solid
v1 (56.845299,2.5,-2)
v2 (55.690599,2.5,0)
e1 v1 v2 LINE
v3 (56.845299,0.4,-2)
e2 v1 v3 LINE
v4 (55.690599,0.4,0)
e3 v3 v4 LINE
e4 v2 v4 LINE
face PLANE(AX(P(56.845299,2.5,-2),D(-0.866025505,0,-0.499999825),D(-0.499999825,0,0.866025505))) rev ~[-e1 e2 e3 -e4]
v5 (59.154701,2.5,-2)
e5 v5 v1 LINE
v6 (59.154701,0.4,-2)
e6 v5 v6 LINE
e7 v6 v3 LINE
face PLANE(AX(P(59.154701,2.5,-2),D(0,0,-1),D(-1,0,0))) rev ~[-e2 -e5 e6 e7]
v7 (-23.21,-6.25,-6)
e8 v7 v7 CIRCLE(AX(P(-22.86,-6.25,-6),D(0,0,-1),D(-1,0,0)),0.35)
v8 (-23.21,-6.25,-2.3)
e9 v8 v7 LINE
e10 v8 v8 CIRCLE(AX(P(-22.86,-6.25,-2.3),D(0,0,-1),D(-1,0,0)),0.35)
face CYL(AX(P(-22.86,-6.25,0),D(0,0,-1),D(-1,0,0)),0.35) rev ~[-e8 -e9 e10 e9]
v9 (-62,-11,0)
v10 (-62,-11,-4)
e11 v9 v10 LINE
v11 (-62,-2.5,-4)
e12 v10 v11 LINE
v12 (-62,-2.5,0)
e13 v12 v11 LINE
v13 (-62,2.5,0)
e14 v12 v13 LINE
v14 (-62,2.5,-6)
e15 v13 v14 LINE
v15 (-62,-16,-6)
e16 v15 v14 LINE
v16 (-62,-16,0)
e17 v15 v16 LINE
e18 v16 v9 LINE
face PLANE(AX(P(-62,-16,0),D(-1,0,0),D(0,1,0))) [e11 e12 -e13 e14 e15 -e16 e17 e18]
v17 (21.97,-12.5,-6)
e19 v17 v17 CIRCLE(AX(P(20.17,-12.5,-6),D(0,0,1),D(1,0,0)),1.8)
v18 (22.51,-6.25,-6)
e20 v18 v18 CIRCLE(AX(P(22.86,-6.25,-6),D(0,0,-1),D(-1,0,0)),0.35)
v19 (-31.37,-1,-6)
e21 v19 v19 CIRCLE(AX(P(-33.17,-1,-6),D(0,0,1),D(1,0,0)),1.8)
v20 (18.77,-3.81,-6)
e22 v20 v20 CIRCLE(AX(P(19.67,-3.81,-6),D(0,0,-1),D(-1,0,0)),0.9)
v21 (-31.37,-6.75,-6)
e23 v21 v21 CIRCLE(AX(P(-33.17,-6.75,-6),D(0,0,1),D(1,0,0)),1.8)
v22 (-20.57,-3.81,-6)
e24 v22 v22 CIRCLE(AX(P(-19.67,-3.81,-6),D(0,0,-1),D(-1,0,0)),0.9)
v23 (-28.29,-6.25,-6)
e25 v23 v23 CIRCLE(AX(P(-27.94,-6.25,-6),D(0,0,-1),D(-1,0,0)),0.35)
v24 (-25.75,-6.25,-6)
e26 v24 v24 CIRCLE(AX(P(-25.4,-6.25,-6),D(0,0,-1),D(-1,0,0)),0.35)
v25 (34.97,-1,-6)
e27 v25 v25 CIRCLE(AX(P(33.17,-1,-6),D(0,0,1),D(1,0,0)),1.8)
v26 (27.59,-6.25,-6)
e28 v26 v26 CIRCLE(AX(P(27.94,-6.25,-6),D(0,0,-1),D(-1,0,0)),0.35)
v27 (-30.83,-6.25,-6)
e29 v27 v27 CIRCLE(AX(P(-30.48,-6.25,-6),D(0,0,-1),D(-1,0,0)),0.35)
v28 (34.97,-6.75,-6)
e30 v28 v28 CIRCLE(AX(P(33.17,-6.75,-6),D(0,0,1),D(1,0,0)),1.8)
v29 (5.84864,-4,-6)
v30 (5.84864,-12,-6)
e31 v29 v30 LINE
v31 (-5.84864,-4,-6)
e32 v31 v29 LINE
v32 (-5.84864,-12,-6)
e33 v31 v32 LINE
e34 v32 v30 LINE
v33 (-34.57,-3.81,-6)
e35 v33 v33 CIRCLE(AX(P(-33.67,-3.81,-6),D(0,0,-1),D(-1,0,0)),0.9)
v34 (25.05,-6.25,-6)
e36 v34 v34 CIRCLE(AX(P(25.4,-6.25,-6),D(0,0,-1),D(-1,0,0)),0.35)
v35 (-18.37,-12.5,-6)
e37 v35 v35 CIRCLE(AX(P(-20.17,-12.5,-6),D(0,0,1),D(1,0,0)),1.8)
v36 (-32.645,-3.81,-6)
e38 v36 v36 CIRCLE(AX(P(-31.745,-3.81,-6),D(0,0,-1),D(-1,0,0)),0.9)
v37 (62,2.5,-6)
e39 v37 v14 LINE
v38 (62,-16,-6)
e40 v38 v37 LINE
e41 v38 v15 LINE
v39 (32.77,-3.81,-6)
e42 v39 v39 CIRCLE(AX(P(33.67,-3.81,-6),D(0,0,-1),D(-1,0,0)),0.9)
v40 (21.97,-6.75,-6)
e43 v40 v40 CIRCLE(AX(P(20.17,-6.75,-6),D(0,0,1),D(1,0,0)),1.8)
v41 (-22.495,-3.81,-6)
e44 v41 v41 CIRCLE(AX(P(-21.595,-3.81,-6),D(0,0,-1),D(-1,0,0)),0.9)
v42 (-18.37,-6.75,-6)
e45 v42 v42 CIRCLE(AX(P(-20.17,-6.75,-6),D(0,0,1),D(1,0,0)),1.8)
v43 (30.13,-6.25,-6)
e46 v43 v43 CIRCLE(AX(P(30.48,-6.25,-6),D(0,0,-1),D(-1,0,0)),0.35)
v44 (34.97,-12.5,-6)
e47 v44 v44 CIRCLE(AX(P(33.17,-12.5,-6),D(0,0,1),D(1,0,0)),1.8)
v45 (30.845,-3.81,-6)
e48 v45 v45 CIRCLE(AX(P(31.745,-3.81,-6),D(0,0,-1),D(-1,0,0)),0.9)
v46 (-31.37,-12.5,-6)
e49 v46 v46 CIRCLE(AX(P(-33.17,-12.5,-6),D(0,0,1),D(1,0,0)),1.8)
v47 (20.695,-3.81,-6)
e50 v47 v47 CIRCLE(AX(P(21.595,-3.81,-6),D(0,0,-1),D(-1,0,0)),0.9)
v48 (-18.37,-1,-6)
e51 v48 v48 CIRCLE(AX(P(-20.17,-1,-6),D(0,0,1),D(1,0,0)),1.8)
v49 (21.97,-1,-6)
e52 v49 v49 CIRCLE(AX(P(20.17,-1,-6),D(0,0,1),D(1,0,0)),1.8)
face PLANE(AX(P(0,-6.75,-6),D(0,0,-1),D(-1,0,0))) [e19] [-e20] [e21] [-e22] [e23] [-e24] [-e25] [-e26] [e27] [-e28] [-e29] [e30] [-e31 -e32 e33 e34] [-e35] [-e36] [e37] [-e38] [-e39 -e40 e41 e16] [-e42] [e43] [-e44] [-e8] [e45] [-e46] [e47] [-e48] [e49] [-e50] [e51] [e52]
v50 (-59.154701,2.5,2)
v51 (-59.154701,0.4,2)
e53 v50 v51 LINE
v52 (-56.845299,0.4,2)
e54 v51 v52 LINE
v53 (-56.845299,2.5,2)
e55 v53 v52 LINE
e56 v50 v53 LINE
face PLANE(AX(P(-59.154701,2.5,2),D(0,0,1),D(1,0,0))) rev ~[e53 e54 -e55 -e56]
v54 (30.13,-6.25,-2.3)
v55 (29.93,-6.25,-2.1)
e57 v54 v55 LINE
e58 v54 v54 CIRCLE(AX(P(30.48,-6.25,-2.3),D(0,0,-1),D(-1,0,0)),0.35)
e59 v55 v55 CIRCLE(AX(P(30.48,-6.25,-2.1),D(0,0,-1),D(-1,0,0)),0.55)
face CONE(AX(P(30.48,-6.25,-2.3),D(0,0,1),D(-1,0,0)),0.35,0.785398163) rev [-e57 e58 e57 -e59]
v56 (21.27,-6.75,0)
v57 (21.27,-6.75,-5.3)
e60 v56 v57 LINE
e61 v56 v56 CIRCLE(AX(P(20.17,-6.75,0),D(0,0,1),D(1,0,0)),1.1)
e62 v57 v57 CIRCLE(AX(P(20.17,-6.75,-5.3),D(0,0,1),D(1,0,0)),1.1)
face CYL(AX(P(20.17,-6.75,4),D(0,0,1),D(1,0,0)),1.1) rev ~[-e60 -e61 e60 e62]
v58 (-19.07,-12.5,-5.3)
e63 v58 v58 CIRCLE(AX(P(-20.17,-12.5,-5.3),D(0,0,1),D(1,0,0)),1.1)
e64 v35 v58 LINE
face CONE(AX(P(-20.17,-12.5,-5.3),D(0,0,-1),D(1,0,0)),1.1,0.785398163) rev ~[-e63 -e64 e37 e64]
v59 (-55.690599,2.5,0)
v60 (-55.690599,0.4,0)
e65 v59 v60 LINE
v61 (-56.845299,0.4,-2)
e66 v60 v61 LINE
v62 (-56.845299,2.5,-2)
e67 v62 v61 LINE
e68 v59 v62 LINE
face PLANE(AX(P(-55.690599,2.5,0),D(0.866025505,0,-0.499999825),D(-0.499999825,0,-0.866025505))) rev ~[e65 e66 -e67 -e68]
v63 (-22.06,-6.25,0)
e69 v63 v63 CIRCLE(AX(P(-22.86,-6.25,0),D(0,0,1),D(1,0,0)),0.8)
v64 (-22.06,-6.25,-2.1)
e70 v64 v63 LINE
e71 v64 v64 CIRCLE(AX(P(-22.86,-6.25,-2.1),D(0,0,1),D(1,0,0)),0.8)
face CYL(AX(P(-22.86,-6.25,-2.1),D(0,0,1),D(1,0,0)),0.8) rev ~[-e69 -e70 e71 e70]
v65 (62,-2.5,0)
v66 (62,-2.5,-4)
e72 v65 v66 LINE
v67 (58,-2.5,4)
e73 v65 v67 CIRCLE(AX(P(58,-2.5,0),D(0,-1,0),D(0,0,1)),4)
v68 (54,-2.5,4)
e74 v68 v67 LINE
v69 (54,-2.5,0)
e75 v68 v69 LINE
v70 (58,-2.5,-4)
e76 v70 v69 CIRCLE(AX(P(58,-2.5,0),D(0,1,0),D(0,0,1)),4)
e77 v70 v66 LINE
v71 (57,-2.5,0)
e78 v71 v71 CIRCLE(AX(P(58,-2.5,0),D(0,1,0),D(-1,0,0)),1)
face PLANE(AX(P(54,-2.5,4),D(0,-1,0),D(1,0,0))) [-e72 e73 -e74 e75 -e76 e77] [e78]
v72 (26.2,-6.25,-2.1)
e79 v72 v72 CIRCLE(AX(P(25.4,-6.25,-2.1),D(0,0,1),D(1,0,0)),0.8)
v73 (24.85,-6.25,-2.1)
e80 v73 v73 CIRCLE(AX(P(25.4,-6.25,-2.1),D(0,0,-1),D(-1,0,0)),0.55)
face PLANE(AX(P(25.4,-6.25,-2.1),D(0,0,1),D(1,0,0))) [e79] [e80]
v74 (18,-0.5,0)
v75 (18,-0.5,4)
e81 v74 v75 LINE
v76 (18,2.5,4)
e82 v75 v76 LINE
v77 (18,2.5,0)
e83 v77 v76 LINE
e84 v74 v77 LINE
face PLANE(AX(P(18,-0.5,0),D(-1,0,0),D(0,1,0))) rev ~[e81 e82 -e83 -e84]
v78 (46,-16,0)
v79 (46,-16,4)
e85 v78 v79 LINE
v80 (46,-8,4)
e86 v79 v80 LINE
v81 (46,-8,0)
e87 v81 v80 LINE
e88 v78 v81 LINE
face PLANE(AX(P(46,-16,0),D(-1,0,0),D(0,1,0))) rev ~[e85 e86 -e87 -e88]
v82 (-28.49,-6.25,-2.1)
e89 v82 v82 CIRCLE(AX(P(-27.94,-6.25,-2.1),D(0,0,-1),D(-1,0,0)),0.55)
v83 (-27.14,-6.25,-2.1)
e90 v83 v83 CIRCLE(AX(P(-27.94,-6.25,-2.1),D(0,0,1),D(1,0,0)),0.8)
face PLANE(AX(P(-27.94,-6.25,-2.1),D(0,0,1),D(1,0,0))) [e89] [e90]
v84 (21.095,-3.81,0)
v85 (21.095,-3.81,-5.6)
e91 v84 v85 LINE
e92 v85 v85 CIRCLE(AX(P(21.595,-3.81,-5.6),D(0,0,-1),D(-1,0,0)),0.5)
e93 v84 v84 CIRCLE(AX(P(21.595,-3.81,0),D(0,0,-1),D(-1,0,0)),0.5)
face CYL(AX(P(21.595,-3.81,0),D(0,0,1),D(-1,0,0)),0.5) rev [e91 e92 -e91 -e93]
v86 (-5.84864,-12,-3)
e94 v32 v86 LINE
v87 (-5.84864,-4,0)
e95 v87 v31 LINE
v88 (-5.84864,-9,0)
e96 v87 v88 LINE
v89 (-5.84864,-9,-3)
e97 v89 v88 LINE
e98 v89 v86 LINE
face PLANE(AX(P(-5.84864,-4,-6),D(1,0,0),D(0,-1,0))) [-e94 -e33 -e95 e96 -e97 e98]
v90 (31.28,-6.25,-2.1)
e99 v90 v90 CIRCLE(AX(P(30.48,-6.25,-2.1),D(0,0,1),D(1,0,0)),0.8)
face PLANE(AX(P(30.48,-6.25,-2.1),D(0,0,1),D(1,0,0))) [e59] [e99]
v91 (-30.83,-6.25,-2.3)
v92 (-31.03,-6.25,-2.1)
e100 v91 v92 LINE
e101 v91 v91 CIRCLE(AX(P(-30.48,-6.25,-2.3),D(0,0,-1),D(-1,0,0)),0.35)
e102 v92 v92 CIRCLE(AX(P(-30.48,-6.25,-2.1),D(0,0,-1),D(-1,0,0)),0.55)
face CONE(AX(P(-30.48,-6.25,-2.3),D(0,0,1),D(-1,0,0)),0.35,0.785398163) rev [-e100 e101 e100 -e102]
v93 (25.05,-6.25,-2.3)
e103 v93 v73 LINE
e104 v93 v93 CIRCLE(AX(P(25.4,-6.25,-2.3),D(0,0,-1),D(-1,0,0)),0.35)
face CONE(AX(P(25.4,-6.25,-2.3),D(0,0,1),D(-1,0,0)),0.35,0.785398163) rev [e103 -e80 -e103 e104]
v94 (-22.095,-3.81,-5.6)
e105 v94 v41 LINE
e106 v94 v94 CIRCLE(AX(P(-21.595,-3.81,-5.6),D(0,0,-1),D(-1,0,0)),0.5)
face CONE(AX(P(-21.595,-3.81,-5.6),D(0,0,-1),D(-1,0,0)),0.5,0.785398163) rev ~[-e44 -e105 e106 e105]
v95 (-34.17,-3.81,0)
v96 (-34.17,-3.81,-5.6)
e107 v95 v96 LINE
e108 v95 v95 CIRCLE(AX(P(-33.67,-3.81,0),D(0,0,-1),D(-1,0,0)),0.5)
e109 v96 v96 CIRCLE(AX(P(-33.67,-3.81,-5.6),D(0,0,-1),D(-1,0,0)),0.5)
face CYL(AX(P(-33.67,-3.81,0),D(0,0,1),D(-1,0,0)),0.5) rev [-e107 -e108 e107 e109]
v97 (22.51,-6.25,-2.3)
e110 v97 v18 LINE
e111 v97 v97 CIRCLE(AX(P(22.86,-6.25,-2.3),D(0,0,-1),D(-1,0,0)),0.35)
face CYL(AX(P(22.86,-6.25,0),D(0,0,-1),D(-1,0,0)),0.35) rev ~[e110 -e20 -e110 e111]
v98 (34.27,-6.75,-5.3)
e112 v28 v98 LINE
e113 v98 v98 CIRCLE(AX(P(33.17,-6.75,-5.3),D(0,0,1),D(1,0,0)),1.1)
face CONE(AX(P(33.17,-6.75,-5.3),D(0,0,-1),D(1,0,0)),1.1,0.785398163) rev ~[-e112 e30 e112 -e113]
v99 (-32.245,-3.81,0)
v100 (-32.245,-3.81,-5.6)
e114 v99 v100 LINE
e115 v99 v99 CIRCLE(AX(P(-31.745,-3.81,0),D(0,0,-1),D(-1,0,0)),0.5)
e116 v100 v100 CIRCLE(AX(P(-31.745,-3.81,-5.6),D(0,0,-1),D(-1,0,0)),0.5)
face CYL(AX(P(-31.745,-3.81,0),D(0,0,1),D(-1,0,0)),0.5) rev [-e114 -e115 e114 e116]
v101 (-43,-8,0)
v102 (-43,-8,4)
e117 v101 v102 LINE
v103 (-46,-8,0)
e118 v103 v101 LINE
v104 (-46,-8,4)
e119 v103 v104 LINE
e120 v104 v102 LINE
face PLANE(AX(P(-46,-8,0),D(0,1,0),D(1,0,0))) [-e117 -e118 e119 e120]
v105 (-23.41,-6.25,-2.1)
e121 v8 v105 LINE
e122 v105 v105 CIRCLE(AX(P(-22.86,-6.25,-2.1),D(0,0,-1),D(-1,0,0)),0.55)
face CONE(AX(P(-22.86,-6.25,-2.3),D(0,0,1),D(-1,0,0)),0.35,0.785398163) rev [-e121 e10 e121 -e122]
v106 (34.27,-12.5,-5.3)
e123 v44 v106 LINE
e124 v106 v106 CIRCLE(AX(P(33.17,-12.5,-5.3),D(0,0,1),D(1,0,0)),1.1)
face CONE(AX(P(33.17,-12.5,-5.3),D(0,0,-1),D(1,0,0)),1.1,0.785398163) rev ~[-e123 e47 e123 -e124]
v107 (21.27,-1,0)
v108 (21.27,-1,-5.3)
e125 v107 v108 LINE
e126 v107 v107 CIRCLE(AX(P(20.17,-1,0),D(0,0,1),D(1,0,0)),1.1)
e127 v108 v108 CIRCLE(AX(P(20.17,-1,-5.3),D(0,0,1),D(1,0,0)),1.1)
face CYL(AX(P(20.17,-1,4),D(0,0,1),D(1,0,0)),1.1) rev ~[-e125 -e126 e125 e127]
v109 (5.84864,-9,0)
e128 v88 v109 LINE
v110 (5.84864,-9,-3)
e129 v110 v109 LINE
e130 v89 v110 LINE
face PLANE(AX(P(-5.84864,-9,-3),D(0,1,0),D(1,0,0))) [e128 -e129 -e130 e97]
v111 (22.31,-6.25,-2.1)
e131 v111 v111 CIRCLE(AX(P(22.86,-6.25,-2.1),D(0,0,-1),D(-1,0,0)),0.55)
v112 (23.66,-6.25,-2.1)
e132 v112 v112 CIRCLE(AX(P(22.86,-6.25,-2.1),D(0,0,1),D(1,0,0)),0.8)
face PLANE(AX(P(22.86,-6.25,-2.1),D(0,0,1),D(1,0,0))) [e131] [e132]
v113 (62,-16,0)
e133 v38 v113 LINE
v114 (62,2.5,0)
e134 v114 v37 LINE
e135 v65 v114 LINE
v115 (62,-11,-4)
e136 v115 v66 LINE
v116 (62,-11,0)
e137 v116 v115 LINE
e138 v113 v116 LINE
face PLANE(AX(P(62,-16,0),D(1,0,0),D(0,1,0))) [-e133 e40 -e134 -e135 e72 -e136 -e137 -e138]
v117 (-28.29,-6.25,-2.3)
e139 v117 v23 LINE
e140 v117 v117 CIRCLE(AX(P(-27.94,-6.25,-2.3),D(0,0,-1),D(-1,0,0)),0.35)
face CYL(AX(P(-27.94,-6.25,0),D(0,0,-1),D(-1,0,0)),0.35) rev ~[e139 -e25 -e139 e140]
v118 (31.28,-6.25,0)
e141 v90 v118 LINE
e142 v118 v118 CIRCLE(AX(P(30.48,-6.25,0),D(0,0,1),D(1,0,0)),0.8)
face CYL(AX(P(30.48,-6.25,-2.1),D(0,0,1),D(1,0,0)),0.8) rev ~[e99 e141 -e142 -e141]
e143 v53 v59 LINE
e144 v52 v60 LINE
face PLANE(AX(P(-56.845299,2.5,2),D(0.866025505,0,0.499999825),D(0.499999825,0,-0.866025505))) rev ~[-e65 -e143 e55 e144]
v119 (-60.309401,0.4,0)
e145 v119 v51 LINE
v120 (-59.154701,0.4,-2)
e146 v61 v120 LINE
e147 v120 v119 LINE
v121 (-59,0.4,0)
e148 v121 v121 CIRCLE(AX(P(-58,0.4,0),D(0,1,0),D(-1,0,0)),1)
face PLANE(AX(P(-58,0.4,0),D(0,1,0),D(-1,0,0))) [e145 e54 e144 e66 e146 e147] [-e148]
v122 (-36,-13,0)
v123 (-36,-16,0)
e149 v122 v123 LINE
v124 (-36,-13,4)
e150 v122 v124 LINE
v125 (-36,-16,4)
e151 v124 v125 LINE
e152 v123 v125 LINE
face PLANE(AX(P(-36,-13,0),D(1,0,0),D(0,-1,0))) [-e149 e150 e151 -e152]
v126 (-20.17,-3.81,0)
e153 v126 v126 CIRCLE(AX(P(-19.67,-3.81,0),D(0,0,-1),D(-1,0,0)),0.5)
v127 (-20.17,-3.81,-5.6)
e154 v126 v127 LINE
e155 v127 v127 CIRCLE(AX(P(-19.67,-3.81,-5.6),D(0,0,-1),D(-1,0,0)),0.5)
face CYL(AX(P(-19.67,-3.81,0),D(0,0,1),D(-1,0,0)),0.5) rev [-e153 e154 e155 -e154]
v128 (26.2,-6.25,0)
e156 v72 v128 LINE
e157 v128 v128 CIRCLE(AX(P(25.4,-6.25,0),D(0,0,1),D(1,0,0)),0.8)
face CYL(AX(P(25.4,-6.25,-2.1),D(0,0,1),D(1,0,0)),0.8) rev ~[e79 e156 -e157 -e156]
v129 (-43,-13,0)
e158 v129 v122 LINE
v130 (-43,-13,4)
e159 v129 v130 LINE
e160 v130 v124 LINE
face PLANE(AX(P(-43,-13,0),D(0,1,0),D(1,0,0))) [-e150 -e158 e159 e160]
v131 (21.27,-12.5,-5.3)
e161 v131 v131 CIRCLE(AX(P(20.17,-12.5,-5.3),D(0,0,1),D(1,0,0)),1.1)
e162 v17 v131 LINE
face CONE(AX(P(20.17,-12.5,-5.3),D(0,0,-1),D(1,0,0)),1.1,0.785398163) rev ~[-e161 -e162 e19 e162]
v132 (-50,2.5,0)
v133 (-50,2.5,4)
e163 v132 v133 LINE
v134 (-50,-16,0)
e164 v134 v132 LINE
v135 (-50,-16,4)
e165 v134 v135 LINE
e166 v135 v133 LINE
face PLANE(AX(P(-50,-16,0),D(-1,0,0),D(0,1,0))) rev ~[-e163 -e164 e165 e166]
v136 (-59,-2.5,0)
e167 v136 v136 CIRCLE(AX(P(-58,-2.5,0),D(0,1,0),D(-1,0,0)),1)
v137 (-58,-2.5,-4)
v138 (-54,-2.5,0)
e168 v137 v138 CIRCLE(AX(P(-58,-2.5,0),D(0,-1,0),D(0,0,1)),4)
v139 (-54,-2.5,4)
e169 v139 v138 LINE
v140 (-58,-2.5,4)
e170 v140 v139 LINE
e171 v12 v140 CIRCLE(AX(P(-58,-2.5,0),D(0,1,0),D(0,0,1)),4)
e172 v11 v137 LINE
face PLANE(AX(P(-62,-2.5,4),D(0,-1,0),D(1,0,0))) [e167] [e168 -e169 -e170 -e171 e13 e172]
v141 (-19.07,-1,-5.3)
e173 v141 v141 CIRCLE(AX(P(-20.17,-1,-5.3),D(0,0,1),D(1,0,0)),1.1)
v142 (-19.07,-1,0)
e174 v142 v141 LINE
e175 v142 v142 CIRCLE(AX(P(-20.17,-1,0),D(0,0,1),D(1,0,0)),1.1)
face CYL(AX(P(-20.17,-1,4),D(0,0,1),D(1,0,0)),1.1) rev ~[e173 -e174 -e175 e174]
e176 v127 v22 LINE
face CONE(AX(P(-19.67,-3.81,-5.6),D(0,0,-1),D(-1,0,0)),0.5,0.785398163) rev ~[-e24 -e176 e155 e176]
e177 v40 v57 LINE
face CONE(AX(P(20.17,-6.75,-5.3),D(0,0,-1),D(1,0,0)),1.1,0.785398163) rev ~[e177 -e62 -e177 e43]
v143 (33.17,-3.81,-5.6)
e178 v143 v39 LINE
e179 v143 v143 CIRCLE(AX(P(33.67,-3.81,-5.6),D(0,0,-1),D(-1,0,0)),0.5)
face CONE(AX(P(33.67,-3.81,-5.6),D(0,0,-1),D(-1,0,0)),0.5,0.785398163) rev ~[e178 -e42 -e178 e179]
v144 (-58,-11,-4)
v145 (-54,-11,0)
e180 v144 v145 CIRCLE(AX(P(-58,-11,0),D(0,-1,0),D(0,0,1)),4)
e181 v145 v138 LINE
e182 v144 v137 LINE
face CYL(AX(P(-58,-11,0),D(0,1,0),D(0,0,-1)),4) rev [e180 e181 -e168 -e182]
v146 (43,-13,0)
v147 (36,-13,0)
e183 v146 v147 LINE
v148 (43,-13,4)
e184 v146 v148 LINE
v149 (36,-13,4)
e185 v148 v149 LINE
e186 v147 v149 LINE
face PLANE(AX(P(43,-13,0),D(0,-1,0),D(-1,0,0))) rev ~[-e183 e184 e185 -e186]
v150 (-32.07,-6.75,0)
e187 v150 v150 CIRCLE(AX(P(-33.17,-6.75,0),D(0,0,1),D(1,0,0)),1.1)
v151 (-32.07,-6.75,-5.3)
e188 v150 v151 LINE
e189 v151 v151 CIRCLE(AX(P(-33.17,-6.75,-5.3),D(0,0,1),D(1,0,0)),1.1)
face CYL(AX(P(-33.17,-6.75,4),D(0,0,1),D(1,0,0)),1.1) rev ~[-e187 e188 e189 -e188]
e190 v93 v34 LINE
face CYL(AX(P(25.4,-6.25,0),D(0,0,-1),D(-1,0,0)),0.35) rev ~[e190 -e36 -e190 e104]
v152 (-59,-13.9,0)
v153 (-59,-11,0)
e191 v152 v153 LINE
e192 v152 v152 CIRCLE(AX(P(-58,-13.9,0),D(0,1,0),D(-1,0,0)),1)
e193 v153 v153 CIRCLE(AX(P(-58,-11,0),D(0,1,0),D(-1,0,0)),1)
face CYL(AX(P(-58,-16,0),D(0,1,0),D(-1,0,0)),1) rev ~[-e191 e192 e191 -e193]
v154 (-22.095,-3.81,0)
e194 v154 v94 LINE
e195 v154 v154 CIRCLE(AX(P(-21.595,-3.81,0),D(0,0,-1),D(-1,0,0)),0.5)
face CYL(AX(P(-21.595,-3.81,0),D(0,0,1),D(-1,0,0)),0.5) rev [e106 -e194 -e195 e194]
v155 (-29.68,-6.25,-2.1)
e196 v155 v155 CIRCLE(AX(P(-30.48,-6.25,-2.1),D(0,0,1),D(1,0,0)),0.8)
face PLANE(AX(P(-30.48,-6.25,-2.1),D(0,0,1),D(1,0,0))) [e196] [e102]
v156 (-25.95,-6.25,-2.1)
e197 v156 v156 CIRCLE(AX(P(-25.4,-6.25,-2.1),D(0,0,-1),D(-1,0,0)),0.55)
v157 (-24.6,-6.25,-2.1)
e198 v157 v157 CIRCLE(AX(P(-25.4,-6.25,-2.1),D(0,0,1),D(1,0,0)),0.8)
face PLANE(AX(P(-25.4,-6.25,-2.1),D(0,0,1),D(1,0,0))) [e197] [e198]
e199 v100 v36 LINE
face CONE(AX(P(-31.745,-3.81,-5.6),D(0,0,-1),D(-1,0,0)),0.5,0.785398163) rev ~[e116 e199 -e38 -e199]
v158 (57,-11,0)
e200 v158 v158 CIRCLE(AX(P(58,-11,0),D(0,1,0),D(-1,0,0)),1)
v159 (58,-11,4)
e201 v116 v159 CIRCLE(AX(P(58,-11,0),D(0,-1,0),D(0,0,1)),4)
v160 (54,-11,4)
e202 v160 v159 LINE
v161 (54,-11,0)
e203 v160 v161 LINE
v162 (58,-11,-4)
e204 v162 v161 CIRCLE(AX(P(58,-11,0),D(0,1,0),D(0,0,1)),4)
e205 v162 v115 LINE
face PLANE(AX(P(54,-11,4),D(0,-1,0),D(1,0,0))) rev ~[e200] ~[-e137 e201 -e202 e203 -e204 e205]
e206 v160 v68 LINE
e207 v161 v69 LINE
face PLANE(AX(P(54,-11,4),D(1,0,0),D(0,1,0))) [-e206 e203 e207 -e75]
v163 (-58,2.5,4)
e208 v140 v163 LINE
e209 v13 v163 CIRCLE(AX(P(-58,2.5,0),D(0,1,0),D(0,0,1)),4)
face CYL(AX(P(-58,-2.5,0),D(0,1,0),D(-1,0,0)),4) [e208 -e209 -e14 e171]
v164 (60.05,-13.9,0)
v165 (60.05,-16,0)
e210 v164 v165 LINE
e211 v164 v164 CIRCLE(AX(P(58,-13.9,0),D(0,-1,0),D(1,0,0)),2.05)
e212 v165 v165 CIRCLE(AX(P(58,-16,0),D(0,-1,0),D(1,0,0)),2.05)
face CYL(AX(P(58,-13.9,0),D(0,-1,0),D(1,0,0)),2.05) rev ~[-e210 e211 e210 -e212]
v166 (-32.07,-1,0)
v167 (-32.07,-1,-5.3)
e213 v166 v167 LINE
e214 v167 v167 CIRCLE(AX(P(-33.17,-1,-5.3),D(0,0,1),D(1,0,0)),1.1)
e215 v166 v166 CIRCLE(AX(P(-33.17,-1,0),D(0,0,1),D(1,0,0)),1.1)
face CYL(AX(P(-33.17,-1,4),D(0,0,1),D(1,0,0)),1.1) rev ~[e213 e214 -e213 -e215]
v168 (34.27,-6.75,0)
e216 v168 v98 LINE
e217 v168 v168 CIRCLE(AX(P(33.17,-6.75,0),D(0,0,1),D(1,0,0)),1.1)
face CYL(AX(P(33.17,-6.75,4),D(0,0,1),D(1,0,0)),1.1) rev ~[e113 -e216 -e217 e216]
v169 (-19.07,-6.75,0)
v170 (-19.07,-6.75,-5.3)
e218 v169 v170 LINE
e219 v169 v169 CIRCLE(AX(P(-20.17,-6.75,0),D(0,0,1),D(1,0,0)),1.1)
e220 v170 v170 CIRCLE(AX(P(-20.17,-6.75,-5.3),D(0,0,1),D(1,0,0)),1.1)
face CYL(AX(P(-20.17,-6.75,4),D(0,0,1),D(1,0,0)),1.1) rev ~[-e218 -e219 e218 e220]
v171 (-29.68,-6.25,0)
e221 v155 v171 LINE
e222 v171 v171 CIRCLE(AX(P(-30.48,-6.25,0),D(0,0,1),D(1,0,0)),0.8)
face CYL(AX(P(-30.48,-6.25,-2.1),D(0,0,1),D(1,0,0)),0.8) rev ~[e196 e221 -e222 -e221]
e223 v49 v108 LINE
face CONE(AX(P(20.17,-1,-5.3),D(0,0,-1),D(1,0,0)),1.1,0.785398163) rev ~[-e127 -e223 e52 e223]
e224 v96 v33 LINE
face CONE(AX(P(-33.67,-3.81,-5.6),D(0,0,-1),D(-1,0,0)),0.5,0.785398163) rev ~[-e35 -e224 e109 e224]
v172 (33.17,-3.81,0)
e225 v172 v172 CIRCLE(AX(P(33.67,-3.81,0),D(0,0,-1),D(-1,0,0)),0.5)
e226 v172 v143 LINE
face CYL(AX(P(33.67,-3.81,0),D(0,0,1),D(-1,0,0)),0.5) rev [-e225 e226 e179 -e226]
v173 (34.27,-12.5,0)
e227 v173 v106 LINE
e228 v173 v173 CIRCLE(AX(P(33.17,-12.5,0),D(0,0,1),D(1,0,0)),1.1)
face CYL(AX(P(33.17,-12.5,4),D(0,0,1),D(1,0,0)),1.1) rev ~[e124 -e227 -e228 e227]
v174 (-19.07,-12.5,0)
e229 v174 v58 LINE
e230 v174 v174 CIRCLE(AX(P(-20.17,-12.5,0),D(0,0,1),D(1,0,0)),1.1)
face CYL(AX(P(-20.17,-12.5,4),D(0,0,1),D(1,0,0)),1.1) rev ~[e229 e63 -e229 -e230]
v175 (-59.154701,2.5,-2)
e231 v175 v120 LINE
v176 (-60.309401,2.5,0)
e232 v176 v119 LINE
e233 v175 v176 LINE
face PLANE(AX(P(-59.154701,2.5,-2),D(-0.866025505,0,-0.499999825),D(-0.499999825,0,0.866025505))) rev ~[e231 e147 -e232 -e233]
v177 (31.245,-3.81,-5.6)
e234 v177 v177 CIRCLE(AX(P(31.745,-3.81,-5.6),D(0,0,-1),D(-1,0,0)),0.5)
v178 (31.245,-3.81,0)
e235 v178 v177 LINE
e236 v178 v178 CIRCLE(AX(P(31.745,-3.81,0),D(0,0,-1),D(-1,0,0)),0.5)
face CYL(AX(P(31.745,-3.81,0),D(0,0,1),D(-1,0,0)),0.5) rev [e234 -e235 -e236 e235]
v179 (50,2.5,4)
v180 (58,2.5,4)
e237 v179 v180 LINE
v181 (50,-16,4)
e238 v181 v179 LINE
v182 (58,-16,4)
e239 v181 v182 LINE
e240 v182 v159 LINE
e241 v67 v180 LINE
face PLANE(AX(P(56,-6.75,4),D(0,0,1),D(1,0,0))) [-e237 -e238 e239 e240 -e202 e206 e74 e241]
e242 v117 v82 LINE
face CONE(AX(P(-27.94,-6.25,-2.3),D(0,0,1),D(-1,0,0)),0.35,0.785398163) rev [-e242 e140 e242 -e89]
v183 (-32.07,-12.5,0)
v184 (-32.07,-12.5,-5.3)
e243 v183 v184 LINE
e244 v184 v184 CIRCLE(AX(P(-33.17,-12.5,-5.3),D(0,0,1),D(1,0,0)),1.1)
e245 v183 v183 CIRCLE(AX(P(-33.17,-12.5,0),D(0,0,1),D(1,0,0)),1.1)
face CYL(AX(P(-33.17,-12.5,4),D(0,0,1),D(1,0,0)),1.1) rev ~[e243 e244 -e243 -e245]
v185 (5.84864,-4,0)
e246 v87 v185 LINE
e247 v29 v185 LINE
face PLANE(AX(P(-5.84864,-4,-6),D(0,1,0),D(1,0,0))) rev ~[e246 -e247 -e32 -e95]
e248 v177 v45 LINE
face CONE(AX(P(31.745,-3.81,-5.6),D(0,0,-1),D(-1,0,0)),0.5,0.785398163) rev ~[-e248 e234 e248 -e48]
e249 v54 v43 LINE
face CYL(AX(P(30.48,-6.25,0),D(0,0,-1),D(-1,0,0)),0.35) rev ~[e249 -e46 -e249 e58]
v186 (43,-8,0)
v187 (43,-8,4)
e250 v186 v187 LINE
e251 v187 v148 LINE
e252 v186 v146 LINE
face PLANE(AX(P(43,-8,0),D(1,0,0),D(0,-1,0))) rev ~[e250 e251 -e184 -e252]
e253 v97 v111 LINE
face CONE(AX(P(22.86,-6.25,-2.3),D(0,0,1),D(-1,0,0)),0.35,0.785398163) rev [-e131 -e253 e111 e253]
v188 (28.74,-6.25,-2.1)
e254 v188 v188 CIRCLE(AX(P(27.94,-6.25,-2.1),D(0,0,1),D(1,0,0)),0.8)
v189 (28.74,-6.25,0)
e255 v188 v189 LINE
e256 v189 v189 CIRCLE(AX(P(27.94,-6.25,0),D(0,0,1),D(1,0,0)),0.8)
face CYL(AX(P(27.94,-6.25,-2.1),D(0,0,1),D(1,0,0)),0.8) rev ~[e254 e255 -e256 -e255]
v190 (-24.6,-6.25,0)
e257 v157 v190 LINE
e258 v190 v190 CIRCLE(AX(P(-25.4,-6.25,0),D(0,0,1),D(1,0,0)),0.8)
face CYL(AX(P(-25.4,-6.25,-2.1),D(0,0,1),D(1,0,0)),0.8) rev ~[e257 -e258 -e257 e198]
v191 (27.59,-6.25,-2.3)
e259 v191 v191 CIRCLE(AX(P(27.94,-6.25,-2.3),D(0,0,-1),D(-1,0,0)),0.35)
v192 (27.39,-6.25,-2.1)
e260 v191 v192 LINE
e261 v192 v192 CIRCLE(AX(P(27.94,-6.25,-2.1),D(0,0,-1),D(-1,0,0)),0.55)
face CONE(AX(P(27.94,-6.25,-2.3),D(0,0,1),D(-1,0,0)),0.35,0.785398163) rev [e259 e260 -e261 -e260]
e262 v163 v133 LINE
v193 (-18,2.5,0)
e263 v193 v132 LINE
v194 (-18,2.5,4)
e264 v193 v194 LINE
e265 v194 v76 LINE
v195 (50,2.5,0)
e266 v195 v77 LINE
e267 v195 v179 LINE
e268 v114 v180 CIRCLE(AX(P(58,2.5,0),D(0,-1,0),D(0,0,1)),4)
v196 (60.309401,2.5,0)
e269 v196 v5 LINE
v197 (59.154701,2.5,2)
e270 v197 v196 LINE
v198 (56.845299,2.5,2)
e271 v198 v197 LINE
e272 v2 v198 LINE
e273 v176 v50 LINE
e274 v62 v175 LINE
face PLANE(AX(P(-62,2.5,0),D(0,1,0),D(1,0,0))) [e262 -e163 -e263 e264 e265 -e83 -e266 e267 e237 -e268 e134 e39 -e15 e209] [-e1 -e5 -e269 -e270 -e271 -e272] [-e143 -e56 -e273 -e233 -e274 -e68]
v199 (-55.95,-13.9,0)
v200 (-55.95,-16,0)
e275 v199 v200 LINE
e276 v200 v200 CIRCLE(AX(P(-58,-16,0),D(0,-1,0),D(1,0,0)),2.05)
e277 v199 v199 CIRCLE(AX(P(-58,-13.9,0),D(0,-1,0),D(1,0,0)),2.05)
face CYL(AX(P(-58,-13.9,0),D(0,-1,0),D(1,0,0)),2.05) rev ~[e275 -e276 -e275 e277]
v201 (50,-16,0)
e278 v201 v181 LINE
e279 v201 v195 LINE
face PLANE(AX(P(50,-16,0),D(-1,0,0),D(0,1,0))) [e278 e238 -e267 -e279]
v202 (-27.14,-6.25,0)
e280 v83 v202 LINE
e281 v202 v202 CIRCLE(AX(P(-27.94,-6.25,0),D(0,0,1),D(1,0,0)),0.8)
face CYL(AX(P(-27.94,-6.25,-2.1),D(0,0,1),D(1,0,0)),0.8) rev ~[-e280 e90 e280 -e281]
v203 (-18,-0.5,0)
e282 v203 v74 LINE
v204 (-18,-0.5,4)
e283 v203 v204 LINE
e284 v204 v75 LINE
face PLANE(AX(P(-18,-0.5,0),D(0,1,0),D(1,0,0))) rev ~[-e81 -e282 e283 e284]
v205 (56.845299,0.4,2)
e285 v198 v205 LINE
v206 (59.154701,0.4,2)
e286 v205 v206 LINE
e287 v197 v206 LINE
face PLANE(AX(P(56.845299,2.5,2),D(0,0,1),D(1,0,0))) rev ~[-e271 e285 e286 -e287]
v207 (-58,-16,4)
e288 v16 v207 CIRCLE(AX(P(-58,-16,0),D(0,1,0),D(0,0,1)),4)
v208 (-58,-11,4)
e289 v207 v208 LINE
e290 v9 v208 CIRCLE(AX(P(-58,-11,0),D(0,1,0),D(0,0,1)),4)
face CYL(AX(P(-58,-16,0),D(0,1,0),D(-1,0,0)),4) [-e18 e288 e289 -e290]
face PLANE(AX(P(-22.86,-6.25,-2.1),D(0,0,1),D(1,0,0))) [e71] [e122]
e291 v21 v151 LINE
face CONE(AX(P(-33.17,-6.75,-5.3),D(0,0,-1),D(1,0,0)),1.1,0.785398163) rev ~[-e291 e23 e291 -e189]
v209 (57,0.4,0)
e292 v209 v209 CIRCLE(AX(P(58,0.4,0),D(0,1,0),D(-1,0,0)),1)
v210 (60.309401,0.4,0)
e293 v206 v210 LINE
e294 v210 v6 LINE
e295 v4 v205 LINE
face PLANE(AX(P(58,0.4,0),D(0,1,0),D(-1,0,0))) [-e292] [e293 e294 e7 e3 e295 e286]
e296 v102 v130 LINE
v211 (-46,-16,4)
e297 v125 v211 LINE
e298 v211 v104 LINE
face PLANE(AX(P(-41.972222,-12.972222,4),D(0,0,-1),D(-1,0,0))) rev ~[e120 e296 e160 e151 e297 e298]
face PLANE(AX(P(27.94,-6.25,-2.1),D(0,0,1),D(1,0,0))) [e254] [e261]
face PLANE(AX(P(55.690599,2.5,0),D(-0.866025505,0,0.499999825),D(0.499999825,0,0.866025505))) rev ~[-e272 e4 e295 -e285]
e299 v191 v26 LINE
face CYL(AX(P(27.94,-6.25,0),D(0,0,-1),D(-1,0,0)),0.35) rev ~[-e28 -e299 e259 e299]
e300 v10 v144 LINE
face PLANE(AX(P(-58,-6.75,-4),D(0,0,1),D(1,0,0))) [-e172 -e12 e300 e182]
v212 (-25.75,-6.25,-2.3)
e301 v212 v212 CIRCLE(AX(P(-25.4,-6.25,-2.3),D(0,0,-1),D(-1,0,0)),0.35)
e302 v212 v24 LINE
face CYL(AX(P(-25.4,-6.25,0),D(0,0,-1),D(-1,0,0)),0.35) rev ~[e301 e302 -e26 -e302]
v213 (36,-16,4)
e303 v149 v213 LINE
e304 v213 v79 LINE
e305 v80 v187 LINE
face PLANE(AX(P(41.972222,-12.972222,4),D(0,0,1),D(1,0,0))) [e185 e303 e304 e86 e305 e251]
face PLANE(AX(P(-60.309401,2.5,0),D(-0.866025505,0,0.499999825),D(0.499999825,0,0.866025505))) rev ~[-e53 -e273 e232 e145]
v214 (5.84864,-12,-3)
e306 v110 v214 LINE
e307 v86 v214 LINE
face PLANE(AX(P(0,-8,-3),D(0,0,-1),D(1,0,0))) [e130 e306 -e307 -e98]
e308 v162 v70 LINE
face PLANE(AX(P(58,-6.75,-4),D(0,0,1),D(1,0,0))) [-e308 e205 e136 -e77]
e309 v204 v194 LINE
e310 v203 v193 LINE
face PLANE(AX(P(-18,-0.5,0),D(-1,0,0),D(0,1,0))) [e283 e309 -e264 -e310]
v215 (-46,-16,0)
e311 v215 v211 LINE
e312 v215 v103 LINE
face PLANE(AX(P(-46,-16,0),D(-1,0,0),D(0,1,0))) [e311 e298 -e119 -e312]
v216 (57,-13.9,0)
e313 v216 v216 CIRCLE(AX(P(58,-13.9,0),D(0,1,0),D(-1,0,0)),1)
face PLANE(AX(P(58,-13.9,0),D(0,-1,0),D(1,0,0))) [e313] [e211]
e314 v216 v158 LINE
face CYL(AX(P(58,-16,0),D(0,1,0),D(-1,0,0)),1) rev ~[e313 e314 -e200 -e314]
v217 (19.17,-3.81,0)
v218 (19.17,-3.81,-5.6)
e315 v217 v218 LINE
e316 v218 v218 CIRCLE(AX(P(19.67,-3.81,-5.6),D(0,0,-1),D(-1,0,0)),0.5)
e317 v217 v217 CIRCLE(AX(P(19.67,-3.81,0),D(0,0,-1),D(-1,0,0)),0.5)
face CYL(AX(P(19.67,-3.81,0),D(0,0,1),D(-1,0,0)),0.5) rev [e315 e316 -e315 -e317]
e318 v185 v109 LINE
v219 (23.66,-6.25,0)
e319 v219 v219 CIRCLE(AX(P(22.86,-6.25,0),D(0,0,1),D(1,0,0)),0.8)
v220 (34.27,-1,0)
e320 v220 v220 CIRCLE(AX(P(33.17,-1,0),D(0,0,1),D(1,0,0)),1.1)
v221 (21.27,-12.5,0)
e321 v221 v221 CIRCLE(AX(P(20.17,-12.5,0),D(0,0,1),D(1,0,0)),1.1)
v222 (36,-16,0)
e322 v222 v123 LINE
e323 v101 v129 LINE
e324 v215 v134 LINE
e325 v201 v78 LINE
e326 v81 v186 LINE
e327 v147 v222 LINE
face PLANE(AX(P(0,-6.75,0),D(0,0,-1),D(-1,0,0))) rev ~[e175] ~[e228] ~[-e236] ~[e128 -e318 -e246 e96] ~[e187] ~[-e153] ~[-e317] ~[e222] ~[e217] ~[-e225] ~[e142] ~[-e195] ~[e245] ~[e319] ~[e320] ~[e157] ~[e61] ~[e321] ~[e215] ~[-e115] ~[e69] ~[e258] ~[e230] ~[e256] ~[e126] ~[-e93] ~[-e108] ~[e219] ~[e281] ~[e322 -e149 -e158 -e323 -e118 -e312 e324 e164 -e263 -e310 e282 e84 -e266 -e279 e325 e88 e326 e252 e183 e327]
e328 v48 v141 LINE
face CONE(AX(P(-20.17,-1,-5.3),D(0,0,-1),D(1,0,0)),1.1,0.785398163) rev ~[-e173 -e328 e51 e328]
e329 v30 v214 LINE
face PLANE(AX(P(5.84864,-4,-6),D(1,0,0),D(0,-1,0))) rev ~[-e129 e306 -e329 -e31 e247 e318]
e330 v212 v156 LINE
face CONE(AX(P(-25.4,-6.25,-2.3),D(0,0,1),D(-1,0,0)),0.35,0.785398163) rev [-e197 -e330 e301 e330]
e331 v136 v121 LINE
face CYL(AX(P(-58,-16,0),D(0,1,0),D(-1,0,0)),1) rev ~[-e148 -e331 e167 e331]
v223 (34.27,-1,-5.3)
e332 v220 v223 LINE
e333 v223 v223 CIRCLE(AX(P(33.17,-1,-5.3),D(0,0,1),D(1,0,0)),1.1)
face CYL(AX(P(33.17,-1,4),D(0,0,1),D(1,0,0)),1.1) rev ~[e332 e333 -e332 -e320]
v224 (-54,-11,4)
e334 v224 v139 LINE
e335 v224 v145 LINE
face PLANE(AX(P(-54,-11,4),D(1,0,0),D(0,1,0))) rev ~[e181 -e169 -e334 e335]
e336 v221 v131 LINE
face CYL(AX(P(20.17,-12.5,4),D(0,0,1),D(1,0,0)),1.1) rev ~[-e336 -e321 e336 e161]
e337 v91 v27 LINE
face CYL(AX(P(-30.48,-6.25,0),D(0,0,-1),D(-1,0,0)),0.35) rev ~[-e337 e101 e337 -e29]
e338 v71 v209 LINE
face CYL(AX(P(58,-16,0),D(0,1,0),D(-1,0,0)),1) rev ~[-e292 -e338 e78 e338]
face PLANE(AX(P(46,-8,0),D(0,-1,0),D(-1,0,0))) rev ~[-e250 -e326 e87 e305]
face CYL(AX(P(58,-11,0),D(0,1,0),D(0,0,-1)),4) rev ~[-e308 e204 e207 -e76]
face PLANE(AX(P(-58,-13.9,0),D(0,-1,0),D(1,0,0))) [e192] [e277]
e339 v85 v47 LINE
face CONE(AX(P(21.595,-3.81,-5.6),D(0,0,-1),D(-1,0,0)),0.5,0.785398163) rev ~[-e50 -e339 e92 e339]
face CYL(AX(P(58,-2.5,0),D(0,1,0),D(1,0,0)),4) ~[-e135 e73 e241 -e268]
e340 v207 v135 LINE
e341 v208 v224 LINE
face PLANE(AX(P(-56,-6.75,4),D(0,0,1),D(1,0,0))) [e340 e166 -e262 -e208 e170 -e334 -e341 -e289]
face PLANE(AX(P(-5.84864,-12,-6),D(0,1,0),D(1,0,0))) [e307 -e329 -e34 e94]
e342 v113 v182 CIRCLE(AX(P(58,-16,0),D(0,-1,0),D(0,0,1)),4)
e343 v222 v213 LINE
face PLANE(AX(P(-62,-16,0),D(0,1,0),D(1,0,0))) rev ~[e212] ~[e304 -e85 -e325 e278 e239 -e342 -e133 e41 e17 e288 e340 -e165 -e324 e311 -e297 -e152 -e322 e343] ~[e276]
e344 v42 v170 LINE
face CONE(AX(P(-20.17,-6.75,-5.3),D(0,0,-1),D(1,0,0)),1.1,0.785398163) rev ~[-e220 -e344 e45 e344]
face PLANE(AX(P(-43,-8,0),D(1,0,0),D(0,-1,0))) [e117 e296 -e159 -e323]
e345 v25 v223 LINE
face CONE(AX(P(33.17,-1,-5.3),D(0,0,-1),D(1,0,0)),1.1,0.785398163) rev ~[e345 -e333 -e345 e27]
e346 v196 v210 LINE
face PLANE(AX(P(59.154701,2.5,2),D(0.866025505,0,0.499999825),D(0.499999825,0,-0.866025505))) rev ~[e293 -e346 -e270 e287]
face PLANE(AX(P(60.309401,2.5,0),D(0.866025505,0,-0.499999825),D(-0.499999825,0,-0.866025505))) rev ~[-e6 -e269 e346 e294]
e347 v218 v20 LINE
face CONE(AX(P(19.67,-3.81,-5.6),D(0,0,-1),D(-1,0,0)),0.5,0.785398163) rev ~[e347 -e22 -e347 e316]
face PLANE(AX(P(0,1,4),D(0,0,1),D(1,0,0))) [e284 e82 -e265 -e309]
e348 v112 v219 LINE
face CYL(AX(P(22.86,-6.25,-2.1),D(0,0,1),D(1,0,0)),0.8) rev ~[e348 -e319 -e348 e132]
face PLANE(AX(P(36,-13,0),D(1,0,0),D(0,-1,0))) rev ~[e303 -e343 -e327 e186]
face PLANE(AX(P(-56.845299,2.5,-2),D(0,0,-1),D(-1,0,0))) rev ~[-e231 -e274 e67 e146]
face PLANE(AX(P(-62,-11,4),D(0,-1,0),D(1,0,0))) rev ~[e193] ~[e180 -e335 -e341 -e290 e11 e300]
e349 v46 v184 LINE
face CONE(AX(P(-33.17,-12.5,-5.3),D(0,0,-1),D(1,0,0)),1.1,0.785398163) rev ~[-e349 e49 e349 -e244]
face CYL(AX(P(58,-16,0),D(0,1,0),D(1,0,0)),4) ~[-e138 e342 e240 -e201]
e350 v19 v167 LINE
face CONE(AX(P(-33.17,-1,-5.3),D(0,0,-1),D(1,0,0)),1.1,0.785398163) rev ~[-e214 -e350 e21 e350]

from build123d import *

# Parameters (mm, degrees)
SKETCH_W            = 124
SKETCH_H            = 18.5
SKETCH_R            = 0.5
PAD_DEPTH           = 6
HOLE_D              = 0.7
HOLE_DEPTH          = 25
HOLE_CBORE_D        = 1.6
HOLE_CBORE_DEPTH    = 2.1
CHAMFER_SIZE        = 0.2
SKETCH002_W         = 12
SKETCH002_H         = 18.5
SKETCH002_W_2       = 36
SKETCH002_H_2       = 3
PAD001_DEPTH        = 4
CHAMFER001_SIZE     = 0.4
SKETCH003_R         = 1.1
POCKET_DEPTH        = 10.001
CHAMFER002_SIZE     = 0.7
SKETCH004_W         = 8
SKETCH004_H         = 8.5
POCKET001_DEPTH     = 8
HOLE003_D           = 2
HOLE003_CBORE_D     = 4.1
HOLE003_CBORE_DEPTH = 2.1
FILLET_R            = 4
POCKET002_DEPTH     = 2.1
SKETCH022_W         = 11.69728
SKETCH022_H         = 8
POCKET005_DEPTH     = 3
SKETCH023_W         = 11.69728
SKETCH023_H         = 5
POCKET006_DEPTH     = 5


with BuildPart() as part:
    # Sketch → Pad (new body)
    with BuildSketch(Plane(origin=(0, 0, 0), x_dir=(-1, 0, 0), z_dir=(0, 0, -1))):
        with Locations((0, -6.75)):
            Rectangle(SKETCH_W, SKETCH_H)
        with Locations((-33.67, -3.81)):
            Circle(SKETCH_R, mode=Mode.SUBTRACT)
        with Locations((-31.745, -3.81)):
            Circle(SKETCH_R, mode=Mode.SUBTRACT)
        with Locations((-21.595, -3.81)):
            Circle(SKETCH_R, mode=Mode.SUBTRACT)
        with Locations((-19.67, -3.81)):
            Circle(SKETCH_R, mode=Mode.SUBTRACT)
        with Locations((19.67, -3.81)):
            Circle(SKETCH_R, mode=Mode.SUBTRACT)
        with Locations((21.595, -3.81)):
            Circle(SKETCH_R, mode=Mode.SUBTRACT)
        with Locations((31.745, -3.81)):
            Circle(SKETCH_R, mode=Mode.SUBTRACT)
        with Locations((33.67, -3.81)):
            Circle(SKETCH_R, mode=Mode.SUBTRACT)
    extrude(amount=PAD_DEPTH)

    # Hole
    with Locations(Plane.XY):
        with Locations((-30.48, -6.25), (-27.94, -6.25), (-25.4, -6.25), (-22.86, -6.25), (22.86, -6.25), (25.4, -6.25), (27.94, -6.25), (30.48, -6.25)):
            CounterBoreHole(HOLE_D / 2, HOLE_CBORE_D / 2, HOLE_CBORE_DEPTH, depth=HOLE_DEPTH)

    # Chamfer
    chamfer_edges = [part.edges().sort_by_distance(p)[0] for p in [
        (30.13, -6.25, -2.1),
        (27.59, -6.25, -2.1),
        (25.05, -6.25, -2.1),
        (22.51, -6.25, -2.1),
        (-30.83, -6.25, -2.1),
        (-28.29, -6.25, -2.1),
        (-25.75, -6.25, -2.1),
        (-23.21, -6.25, -2.1),
    ]]
    chamfer(chamfer_edges, length=CHAMFER_SIZE)

    # Sketch002 (on Face25 of Chamfer) → Pad001 (join)
    with BuildSketch(Plane.XY):
        with Locations((-56, -6.75)):
            Rectangle(SKETCH002_W, SKETCH002_H)
        with Locations((56, -6.75)):
            Rectangle(SKETCH002_W, SKETCH002_H)
        with Locations((0, 1)):
            Rectangle(SKETCH002_W_2, SKETCH002_H_2)
        Polygon((-46, -16), (-46, -8), (-43, -8), (-43, -13), (-36, -13), (-36, -16), align=None)
        Polygon((46, -16), (46, -8), (43, -8), (43, -13), (36, -13), (36, -16), align=None)
    extrude(amount=PAD001_DEPTH)

    # Chamfer001
    chamfer001_edges = [part.edges().sort_by_distance(p)[0] for p in [
        (34.17, -3.81, -6),
        (32.245, -3.81, -6),
        (22.095, -3.81, -6),
        (20.17, -3.81, -6),
        (-19.17, -3.81, -6),
        (-21.095, -3.81, -6),
        (-31.245, -3.81, -6),
        (-33.17, -3.81, -6),
    ]]
    chamfer(chamfer001_edges, length=CHAMFER001_SIZE)

    # Sketch003 (on Face23 of Chamfer001) → Pocket (cut, through all)
    with BuildSketch(Plane.XY.offset(4)):
        with Locations((-33.17, -1)):
            Circle(SKETCH003_R)
        with Locations((-20.17, -1)):
            Circle(SKETCH003_R)
        with Locations((-33.17, -6.75)):
            Circle(SKETCH003_R)
        with Locations((-20.17, -6.75)):
            Circle(SKETCH003_R)
        with Locations((-20.17, -12.5)):
            Circle(SKETCH003_R)
        with Locations((-33.17, -12.5)):
            Circle(SKETCH003_R)
        with Locations((20.17, -1)):
            Circle(SKETCH003_R)
        with Locations((33.17, -1)):
            Circle(SKETCH003_R)
        with Locations((20.17, -6.75)):
            Circle(SKETCH003_R)
        with Locations((33.17, -6.75)):
            Circle(SKETCH003_R)
        with Locations((33.17, -12.5)):
            Circle(SKETCH003_R)
        with Locations((20.17, -12.5)):
            Circle(SKETCH003_R)
    extrude(amount=-POCKET_DEPTH, mode=Mode.SUBTRACT)

    # Chamfer002
    chamfer002_edges = [part.edges().sort_by_distance(p)[0] for p in [
        (19.07, -6.75, -6),
        (19.07, -1, -6),
        (19.07, -12.5, -6),
        (32.07, -12.5, -6),
        (32.07, -6.75, -6),
        (32.07, -1, -6),
        (-34.27, -1, -6),
        (-34.27, -6.75, -6),
        (-34.27, -12.5, -6),
        (-21.27, -12.5, -6),
        (-21.27, -6.75, -6),
        (-21.27, -1, -6),
    ]]
    chamfer(chamfer002_edges, length=CHAMFER002_SIZE)

    # Sketch004 (on Face35 of Chamfer002) → Pocket001 (cut)
    with BuildSketch(Plane.XY.offset(4)):
        with Locations((-58, -6.75)):
            Rectangle(SKETCH004_W, SKETCH004_H)
        with Locations((58, -6.75)):
            Rectangle(SKETCH004_W, SKETCH004_H)
    extrude(amount=-POCKET001_DEPTH, mode=Mode.SUBTRACT)

    # Hole003 (through all)
    with Locations(Plane.XZ.offset(16)):
        with Locations((-58, 0), (58, 0)):
            CounterBoreHole(HOLE003_D / 2, HOLE003_CBORE_D / 2, HOLE003_CBORE_DEPTH)

    # Fillet
    fillet_edges = [part.edges().sort_by_distance(p)[0] for p in [
        (-62, 0, 4),
        (-62, -13.5, 4),
        (62, 0, 4),
        (62, -13.5, 4),
        (54, -6.75, -4),
        (-54, -6.75, -4),
    ]]
    fillet(fillet_edges, radius=FILLET_R)

    # Sketch015 (on Face1 of Fillet) → Pocket002 (cut)
    with BuildSketch(Plane(origin=(0, 2.5, 0), x_dir=(-1, 0, 0), z_dir=(0, 1, 0))):
        Polygon((-56.845299, 2), (-59.154701, 2), (-60.309401, 0), (-59.154701, -2), (-56.845299, -2), (-55.690599, 0), align=None)
        Polygon((55.690599, 0), (56.845299, -2), (59.154701, -2), (60.309401, 0), (59.154701, 2), (56.845299, 2), align=None)
    extrude(amount=-POCKET002_DEPTH, mode=Mode.SUBTRACT)

    # Sketch022 (on Face4 of Pocket002) → Pocket005 (cut)
    with BuildSketch(Plane(origin=(0, 0, -6), x_dir=(1, 0, 0), z_dir=(0, 0, -1))):
        with Locations((0, 8)):
            Rectangle(SKETCH022_W, SKETCH022_H)
    extrude(amount=-POCKET005_DEPTH, mode=Mode.SUBTRACT)

    # Sketch023 (on Face122 of Pocket005) → Pocket006 (cut)
    with BuildSketch(Plane(origin=(0, 0, -3), x_dir=(1, 0, 0), z_dir=(0, 0, -1))):
        with Locations((0, 6.5)):
            Rectangle(SKETCH023_W, SKETCH023_H)
    extrude(amount=-POCKET006_DEPTH, mode=Mode.SUBTRACT)


solid = part.part
